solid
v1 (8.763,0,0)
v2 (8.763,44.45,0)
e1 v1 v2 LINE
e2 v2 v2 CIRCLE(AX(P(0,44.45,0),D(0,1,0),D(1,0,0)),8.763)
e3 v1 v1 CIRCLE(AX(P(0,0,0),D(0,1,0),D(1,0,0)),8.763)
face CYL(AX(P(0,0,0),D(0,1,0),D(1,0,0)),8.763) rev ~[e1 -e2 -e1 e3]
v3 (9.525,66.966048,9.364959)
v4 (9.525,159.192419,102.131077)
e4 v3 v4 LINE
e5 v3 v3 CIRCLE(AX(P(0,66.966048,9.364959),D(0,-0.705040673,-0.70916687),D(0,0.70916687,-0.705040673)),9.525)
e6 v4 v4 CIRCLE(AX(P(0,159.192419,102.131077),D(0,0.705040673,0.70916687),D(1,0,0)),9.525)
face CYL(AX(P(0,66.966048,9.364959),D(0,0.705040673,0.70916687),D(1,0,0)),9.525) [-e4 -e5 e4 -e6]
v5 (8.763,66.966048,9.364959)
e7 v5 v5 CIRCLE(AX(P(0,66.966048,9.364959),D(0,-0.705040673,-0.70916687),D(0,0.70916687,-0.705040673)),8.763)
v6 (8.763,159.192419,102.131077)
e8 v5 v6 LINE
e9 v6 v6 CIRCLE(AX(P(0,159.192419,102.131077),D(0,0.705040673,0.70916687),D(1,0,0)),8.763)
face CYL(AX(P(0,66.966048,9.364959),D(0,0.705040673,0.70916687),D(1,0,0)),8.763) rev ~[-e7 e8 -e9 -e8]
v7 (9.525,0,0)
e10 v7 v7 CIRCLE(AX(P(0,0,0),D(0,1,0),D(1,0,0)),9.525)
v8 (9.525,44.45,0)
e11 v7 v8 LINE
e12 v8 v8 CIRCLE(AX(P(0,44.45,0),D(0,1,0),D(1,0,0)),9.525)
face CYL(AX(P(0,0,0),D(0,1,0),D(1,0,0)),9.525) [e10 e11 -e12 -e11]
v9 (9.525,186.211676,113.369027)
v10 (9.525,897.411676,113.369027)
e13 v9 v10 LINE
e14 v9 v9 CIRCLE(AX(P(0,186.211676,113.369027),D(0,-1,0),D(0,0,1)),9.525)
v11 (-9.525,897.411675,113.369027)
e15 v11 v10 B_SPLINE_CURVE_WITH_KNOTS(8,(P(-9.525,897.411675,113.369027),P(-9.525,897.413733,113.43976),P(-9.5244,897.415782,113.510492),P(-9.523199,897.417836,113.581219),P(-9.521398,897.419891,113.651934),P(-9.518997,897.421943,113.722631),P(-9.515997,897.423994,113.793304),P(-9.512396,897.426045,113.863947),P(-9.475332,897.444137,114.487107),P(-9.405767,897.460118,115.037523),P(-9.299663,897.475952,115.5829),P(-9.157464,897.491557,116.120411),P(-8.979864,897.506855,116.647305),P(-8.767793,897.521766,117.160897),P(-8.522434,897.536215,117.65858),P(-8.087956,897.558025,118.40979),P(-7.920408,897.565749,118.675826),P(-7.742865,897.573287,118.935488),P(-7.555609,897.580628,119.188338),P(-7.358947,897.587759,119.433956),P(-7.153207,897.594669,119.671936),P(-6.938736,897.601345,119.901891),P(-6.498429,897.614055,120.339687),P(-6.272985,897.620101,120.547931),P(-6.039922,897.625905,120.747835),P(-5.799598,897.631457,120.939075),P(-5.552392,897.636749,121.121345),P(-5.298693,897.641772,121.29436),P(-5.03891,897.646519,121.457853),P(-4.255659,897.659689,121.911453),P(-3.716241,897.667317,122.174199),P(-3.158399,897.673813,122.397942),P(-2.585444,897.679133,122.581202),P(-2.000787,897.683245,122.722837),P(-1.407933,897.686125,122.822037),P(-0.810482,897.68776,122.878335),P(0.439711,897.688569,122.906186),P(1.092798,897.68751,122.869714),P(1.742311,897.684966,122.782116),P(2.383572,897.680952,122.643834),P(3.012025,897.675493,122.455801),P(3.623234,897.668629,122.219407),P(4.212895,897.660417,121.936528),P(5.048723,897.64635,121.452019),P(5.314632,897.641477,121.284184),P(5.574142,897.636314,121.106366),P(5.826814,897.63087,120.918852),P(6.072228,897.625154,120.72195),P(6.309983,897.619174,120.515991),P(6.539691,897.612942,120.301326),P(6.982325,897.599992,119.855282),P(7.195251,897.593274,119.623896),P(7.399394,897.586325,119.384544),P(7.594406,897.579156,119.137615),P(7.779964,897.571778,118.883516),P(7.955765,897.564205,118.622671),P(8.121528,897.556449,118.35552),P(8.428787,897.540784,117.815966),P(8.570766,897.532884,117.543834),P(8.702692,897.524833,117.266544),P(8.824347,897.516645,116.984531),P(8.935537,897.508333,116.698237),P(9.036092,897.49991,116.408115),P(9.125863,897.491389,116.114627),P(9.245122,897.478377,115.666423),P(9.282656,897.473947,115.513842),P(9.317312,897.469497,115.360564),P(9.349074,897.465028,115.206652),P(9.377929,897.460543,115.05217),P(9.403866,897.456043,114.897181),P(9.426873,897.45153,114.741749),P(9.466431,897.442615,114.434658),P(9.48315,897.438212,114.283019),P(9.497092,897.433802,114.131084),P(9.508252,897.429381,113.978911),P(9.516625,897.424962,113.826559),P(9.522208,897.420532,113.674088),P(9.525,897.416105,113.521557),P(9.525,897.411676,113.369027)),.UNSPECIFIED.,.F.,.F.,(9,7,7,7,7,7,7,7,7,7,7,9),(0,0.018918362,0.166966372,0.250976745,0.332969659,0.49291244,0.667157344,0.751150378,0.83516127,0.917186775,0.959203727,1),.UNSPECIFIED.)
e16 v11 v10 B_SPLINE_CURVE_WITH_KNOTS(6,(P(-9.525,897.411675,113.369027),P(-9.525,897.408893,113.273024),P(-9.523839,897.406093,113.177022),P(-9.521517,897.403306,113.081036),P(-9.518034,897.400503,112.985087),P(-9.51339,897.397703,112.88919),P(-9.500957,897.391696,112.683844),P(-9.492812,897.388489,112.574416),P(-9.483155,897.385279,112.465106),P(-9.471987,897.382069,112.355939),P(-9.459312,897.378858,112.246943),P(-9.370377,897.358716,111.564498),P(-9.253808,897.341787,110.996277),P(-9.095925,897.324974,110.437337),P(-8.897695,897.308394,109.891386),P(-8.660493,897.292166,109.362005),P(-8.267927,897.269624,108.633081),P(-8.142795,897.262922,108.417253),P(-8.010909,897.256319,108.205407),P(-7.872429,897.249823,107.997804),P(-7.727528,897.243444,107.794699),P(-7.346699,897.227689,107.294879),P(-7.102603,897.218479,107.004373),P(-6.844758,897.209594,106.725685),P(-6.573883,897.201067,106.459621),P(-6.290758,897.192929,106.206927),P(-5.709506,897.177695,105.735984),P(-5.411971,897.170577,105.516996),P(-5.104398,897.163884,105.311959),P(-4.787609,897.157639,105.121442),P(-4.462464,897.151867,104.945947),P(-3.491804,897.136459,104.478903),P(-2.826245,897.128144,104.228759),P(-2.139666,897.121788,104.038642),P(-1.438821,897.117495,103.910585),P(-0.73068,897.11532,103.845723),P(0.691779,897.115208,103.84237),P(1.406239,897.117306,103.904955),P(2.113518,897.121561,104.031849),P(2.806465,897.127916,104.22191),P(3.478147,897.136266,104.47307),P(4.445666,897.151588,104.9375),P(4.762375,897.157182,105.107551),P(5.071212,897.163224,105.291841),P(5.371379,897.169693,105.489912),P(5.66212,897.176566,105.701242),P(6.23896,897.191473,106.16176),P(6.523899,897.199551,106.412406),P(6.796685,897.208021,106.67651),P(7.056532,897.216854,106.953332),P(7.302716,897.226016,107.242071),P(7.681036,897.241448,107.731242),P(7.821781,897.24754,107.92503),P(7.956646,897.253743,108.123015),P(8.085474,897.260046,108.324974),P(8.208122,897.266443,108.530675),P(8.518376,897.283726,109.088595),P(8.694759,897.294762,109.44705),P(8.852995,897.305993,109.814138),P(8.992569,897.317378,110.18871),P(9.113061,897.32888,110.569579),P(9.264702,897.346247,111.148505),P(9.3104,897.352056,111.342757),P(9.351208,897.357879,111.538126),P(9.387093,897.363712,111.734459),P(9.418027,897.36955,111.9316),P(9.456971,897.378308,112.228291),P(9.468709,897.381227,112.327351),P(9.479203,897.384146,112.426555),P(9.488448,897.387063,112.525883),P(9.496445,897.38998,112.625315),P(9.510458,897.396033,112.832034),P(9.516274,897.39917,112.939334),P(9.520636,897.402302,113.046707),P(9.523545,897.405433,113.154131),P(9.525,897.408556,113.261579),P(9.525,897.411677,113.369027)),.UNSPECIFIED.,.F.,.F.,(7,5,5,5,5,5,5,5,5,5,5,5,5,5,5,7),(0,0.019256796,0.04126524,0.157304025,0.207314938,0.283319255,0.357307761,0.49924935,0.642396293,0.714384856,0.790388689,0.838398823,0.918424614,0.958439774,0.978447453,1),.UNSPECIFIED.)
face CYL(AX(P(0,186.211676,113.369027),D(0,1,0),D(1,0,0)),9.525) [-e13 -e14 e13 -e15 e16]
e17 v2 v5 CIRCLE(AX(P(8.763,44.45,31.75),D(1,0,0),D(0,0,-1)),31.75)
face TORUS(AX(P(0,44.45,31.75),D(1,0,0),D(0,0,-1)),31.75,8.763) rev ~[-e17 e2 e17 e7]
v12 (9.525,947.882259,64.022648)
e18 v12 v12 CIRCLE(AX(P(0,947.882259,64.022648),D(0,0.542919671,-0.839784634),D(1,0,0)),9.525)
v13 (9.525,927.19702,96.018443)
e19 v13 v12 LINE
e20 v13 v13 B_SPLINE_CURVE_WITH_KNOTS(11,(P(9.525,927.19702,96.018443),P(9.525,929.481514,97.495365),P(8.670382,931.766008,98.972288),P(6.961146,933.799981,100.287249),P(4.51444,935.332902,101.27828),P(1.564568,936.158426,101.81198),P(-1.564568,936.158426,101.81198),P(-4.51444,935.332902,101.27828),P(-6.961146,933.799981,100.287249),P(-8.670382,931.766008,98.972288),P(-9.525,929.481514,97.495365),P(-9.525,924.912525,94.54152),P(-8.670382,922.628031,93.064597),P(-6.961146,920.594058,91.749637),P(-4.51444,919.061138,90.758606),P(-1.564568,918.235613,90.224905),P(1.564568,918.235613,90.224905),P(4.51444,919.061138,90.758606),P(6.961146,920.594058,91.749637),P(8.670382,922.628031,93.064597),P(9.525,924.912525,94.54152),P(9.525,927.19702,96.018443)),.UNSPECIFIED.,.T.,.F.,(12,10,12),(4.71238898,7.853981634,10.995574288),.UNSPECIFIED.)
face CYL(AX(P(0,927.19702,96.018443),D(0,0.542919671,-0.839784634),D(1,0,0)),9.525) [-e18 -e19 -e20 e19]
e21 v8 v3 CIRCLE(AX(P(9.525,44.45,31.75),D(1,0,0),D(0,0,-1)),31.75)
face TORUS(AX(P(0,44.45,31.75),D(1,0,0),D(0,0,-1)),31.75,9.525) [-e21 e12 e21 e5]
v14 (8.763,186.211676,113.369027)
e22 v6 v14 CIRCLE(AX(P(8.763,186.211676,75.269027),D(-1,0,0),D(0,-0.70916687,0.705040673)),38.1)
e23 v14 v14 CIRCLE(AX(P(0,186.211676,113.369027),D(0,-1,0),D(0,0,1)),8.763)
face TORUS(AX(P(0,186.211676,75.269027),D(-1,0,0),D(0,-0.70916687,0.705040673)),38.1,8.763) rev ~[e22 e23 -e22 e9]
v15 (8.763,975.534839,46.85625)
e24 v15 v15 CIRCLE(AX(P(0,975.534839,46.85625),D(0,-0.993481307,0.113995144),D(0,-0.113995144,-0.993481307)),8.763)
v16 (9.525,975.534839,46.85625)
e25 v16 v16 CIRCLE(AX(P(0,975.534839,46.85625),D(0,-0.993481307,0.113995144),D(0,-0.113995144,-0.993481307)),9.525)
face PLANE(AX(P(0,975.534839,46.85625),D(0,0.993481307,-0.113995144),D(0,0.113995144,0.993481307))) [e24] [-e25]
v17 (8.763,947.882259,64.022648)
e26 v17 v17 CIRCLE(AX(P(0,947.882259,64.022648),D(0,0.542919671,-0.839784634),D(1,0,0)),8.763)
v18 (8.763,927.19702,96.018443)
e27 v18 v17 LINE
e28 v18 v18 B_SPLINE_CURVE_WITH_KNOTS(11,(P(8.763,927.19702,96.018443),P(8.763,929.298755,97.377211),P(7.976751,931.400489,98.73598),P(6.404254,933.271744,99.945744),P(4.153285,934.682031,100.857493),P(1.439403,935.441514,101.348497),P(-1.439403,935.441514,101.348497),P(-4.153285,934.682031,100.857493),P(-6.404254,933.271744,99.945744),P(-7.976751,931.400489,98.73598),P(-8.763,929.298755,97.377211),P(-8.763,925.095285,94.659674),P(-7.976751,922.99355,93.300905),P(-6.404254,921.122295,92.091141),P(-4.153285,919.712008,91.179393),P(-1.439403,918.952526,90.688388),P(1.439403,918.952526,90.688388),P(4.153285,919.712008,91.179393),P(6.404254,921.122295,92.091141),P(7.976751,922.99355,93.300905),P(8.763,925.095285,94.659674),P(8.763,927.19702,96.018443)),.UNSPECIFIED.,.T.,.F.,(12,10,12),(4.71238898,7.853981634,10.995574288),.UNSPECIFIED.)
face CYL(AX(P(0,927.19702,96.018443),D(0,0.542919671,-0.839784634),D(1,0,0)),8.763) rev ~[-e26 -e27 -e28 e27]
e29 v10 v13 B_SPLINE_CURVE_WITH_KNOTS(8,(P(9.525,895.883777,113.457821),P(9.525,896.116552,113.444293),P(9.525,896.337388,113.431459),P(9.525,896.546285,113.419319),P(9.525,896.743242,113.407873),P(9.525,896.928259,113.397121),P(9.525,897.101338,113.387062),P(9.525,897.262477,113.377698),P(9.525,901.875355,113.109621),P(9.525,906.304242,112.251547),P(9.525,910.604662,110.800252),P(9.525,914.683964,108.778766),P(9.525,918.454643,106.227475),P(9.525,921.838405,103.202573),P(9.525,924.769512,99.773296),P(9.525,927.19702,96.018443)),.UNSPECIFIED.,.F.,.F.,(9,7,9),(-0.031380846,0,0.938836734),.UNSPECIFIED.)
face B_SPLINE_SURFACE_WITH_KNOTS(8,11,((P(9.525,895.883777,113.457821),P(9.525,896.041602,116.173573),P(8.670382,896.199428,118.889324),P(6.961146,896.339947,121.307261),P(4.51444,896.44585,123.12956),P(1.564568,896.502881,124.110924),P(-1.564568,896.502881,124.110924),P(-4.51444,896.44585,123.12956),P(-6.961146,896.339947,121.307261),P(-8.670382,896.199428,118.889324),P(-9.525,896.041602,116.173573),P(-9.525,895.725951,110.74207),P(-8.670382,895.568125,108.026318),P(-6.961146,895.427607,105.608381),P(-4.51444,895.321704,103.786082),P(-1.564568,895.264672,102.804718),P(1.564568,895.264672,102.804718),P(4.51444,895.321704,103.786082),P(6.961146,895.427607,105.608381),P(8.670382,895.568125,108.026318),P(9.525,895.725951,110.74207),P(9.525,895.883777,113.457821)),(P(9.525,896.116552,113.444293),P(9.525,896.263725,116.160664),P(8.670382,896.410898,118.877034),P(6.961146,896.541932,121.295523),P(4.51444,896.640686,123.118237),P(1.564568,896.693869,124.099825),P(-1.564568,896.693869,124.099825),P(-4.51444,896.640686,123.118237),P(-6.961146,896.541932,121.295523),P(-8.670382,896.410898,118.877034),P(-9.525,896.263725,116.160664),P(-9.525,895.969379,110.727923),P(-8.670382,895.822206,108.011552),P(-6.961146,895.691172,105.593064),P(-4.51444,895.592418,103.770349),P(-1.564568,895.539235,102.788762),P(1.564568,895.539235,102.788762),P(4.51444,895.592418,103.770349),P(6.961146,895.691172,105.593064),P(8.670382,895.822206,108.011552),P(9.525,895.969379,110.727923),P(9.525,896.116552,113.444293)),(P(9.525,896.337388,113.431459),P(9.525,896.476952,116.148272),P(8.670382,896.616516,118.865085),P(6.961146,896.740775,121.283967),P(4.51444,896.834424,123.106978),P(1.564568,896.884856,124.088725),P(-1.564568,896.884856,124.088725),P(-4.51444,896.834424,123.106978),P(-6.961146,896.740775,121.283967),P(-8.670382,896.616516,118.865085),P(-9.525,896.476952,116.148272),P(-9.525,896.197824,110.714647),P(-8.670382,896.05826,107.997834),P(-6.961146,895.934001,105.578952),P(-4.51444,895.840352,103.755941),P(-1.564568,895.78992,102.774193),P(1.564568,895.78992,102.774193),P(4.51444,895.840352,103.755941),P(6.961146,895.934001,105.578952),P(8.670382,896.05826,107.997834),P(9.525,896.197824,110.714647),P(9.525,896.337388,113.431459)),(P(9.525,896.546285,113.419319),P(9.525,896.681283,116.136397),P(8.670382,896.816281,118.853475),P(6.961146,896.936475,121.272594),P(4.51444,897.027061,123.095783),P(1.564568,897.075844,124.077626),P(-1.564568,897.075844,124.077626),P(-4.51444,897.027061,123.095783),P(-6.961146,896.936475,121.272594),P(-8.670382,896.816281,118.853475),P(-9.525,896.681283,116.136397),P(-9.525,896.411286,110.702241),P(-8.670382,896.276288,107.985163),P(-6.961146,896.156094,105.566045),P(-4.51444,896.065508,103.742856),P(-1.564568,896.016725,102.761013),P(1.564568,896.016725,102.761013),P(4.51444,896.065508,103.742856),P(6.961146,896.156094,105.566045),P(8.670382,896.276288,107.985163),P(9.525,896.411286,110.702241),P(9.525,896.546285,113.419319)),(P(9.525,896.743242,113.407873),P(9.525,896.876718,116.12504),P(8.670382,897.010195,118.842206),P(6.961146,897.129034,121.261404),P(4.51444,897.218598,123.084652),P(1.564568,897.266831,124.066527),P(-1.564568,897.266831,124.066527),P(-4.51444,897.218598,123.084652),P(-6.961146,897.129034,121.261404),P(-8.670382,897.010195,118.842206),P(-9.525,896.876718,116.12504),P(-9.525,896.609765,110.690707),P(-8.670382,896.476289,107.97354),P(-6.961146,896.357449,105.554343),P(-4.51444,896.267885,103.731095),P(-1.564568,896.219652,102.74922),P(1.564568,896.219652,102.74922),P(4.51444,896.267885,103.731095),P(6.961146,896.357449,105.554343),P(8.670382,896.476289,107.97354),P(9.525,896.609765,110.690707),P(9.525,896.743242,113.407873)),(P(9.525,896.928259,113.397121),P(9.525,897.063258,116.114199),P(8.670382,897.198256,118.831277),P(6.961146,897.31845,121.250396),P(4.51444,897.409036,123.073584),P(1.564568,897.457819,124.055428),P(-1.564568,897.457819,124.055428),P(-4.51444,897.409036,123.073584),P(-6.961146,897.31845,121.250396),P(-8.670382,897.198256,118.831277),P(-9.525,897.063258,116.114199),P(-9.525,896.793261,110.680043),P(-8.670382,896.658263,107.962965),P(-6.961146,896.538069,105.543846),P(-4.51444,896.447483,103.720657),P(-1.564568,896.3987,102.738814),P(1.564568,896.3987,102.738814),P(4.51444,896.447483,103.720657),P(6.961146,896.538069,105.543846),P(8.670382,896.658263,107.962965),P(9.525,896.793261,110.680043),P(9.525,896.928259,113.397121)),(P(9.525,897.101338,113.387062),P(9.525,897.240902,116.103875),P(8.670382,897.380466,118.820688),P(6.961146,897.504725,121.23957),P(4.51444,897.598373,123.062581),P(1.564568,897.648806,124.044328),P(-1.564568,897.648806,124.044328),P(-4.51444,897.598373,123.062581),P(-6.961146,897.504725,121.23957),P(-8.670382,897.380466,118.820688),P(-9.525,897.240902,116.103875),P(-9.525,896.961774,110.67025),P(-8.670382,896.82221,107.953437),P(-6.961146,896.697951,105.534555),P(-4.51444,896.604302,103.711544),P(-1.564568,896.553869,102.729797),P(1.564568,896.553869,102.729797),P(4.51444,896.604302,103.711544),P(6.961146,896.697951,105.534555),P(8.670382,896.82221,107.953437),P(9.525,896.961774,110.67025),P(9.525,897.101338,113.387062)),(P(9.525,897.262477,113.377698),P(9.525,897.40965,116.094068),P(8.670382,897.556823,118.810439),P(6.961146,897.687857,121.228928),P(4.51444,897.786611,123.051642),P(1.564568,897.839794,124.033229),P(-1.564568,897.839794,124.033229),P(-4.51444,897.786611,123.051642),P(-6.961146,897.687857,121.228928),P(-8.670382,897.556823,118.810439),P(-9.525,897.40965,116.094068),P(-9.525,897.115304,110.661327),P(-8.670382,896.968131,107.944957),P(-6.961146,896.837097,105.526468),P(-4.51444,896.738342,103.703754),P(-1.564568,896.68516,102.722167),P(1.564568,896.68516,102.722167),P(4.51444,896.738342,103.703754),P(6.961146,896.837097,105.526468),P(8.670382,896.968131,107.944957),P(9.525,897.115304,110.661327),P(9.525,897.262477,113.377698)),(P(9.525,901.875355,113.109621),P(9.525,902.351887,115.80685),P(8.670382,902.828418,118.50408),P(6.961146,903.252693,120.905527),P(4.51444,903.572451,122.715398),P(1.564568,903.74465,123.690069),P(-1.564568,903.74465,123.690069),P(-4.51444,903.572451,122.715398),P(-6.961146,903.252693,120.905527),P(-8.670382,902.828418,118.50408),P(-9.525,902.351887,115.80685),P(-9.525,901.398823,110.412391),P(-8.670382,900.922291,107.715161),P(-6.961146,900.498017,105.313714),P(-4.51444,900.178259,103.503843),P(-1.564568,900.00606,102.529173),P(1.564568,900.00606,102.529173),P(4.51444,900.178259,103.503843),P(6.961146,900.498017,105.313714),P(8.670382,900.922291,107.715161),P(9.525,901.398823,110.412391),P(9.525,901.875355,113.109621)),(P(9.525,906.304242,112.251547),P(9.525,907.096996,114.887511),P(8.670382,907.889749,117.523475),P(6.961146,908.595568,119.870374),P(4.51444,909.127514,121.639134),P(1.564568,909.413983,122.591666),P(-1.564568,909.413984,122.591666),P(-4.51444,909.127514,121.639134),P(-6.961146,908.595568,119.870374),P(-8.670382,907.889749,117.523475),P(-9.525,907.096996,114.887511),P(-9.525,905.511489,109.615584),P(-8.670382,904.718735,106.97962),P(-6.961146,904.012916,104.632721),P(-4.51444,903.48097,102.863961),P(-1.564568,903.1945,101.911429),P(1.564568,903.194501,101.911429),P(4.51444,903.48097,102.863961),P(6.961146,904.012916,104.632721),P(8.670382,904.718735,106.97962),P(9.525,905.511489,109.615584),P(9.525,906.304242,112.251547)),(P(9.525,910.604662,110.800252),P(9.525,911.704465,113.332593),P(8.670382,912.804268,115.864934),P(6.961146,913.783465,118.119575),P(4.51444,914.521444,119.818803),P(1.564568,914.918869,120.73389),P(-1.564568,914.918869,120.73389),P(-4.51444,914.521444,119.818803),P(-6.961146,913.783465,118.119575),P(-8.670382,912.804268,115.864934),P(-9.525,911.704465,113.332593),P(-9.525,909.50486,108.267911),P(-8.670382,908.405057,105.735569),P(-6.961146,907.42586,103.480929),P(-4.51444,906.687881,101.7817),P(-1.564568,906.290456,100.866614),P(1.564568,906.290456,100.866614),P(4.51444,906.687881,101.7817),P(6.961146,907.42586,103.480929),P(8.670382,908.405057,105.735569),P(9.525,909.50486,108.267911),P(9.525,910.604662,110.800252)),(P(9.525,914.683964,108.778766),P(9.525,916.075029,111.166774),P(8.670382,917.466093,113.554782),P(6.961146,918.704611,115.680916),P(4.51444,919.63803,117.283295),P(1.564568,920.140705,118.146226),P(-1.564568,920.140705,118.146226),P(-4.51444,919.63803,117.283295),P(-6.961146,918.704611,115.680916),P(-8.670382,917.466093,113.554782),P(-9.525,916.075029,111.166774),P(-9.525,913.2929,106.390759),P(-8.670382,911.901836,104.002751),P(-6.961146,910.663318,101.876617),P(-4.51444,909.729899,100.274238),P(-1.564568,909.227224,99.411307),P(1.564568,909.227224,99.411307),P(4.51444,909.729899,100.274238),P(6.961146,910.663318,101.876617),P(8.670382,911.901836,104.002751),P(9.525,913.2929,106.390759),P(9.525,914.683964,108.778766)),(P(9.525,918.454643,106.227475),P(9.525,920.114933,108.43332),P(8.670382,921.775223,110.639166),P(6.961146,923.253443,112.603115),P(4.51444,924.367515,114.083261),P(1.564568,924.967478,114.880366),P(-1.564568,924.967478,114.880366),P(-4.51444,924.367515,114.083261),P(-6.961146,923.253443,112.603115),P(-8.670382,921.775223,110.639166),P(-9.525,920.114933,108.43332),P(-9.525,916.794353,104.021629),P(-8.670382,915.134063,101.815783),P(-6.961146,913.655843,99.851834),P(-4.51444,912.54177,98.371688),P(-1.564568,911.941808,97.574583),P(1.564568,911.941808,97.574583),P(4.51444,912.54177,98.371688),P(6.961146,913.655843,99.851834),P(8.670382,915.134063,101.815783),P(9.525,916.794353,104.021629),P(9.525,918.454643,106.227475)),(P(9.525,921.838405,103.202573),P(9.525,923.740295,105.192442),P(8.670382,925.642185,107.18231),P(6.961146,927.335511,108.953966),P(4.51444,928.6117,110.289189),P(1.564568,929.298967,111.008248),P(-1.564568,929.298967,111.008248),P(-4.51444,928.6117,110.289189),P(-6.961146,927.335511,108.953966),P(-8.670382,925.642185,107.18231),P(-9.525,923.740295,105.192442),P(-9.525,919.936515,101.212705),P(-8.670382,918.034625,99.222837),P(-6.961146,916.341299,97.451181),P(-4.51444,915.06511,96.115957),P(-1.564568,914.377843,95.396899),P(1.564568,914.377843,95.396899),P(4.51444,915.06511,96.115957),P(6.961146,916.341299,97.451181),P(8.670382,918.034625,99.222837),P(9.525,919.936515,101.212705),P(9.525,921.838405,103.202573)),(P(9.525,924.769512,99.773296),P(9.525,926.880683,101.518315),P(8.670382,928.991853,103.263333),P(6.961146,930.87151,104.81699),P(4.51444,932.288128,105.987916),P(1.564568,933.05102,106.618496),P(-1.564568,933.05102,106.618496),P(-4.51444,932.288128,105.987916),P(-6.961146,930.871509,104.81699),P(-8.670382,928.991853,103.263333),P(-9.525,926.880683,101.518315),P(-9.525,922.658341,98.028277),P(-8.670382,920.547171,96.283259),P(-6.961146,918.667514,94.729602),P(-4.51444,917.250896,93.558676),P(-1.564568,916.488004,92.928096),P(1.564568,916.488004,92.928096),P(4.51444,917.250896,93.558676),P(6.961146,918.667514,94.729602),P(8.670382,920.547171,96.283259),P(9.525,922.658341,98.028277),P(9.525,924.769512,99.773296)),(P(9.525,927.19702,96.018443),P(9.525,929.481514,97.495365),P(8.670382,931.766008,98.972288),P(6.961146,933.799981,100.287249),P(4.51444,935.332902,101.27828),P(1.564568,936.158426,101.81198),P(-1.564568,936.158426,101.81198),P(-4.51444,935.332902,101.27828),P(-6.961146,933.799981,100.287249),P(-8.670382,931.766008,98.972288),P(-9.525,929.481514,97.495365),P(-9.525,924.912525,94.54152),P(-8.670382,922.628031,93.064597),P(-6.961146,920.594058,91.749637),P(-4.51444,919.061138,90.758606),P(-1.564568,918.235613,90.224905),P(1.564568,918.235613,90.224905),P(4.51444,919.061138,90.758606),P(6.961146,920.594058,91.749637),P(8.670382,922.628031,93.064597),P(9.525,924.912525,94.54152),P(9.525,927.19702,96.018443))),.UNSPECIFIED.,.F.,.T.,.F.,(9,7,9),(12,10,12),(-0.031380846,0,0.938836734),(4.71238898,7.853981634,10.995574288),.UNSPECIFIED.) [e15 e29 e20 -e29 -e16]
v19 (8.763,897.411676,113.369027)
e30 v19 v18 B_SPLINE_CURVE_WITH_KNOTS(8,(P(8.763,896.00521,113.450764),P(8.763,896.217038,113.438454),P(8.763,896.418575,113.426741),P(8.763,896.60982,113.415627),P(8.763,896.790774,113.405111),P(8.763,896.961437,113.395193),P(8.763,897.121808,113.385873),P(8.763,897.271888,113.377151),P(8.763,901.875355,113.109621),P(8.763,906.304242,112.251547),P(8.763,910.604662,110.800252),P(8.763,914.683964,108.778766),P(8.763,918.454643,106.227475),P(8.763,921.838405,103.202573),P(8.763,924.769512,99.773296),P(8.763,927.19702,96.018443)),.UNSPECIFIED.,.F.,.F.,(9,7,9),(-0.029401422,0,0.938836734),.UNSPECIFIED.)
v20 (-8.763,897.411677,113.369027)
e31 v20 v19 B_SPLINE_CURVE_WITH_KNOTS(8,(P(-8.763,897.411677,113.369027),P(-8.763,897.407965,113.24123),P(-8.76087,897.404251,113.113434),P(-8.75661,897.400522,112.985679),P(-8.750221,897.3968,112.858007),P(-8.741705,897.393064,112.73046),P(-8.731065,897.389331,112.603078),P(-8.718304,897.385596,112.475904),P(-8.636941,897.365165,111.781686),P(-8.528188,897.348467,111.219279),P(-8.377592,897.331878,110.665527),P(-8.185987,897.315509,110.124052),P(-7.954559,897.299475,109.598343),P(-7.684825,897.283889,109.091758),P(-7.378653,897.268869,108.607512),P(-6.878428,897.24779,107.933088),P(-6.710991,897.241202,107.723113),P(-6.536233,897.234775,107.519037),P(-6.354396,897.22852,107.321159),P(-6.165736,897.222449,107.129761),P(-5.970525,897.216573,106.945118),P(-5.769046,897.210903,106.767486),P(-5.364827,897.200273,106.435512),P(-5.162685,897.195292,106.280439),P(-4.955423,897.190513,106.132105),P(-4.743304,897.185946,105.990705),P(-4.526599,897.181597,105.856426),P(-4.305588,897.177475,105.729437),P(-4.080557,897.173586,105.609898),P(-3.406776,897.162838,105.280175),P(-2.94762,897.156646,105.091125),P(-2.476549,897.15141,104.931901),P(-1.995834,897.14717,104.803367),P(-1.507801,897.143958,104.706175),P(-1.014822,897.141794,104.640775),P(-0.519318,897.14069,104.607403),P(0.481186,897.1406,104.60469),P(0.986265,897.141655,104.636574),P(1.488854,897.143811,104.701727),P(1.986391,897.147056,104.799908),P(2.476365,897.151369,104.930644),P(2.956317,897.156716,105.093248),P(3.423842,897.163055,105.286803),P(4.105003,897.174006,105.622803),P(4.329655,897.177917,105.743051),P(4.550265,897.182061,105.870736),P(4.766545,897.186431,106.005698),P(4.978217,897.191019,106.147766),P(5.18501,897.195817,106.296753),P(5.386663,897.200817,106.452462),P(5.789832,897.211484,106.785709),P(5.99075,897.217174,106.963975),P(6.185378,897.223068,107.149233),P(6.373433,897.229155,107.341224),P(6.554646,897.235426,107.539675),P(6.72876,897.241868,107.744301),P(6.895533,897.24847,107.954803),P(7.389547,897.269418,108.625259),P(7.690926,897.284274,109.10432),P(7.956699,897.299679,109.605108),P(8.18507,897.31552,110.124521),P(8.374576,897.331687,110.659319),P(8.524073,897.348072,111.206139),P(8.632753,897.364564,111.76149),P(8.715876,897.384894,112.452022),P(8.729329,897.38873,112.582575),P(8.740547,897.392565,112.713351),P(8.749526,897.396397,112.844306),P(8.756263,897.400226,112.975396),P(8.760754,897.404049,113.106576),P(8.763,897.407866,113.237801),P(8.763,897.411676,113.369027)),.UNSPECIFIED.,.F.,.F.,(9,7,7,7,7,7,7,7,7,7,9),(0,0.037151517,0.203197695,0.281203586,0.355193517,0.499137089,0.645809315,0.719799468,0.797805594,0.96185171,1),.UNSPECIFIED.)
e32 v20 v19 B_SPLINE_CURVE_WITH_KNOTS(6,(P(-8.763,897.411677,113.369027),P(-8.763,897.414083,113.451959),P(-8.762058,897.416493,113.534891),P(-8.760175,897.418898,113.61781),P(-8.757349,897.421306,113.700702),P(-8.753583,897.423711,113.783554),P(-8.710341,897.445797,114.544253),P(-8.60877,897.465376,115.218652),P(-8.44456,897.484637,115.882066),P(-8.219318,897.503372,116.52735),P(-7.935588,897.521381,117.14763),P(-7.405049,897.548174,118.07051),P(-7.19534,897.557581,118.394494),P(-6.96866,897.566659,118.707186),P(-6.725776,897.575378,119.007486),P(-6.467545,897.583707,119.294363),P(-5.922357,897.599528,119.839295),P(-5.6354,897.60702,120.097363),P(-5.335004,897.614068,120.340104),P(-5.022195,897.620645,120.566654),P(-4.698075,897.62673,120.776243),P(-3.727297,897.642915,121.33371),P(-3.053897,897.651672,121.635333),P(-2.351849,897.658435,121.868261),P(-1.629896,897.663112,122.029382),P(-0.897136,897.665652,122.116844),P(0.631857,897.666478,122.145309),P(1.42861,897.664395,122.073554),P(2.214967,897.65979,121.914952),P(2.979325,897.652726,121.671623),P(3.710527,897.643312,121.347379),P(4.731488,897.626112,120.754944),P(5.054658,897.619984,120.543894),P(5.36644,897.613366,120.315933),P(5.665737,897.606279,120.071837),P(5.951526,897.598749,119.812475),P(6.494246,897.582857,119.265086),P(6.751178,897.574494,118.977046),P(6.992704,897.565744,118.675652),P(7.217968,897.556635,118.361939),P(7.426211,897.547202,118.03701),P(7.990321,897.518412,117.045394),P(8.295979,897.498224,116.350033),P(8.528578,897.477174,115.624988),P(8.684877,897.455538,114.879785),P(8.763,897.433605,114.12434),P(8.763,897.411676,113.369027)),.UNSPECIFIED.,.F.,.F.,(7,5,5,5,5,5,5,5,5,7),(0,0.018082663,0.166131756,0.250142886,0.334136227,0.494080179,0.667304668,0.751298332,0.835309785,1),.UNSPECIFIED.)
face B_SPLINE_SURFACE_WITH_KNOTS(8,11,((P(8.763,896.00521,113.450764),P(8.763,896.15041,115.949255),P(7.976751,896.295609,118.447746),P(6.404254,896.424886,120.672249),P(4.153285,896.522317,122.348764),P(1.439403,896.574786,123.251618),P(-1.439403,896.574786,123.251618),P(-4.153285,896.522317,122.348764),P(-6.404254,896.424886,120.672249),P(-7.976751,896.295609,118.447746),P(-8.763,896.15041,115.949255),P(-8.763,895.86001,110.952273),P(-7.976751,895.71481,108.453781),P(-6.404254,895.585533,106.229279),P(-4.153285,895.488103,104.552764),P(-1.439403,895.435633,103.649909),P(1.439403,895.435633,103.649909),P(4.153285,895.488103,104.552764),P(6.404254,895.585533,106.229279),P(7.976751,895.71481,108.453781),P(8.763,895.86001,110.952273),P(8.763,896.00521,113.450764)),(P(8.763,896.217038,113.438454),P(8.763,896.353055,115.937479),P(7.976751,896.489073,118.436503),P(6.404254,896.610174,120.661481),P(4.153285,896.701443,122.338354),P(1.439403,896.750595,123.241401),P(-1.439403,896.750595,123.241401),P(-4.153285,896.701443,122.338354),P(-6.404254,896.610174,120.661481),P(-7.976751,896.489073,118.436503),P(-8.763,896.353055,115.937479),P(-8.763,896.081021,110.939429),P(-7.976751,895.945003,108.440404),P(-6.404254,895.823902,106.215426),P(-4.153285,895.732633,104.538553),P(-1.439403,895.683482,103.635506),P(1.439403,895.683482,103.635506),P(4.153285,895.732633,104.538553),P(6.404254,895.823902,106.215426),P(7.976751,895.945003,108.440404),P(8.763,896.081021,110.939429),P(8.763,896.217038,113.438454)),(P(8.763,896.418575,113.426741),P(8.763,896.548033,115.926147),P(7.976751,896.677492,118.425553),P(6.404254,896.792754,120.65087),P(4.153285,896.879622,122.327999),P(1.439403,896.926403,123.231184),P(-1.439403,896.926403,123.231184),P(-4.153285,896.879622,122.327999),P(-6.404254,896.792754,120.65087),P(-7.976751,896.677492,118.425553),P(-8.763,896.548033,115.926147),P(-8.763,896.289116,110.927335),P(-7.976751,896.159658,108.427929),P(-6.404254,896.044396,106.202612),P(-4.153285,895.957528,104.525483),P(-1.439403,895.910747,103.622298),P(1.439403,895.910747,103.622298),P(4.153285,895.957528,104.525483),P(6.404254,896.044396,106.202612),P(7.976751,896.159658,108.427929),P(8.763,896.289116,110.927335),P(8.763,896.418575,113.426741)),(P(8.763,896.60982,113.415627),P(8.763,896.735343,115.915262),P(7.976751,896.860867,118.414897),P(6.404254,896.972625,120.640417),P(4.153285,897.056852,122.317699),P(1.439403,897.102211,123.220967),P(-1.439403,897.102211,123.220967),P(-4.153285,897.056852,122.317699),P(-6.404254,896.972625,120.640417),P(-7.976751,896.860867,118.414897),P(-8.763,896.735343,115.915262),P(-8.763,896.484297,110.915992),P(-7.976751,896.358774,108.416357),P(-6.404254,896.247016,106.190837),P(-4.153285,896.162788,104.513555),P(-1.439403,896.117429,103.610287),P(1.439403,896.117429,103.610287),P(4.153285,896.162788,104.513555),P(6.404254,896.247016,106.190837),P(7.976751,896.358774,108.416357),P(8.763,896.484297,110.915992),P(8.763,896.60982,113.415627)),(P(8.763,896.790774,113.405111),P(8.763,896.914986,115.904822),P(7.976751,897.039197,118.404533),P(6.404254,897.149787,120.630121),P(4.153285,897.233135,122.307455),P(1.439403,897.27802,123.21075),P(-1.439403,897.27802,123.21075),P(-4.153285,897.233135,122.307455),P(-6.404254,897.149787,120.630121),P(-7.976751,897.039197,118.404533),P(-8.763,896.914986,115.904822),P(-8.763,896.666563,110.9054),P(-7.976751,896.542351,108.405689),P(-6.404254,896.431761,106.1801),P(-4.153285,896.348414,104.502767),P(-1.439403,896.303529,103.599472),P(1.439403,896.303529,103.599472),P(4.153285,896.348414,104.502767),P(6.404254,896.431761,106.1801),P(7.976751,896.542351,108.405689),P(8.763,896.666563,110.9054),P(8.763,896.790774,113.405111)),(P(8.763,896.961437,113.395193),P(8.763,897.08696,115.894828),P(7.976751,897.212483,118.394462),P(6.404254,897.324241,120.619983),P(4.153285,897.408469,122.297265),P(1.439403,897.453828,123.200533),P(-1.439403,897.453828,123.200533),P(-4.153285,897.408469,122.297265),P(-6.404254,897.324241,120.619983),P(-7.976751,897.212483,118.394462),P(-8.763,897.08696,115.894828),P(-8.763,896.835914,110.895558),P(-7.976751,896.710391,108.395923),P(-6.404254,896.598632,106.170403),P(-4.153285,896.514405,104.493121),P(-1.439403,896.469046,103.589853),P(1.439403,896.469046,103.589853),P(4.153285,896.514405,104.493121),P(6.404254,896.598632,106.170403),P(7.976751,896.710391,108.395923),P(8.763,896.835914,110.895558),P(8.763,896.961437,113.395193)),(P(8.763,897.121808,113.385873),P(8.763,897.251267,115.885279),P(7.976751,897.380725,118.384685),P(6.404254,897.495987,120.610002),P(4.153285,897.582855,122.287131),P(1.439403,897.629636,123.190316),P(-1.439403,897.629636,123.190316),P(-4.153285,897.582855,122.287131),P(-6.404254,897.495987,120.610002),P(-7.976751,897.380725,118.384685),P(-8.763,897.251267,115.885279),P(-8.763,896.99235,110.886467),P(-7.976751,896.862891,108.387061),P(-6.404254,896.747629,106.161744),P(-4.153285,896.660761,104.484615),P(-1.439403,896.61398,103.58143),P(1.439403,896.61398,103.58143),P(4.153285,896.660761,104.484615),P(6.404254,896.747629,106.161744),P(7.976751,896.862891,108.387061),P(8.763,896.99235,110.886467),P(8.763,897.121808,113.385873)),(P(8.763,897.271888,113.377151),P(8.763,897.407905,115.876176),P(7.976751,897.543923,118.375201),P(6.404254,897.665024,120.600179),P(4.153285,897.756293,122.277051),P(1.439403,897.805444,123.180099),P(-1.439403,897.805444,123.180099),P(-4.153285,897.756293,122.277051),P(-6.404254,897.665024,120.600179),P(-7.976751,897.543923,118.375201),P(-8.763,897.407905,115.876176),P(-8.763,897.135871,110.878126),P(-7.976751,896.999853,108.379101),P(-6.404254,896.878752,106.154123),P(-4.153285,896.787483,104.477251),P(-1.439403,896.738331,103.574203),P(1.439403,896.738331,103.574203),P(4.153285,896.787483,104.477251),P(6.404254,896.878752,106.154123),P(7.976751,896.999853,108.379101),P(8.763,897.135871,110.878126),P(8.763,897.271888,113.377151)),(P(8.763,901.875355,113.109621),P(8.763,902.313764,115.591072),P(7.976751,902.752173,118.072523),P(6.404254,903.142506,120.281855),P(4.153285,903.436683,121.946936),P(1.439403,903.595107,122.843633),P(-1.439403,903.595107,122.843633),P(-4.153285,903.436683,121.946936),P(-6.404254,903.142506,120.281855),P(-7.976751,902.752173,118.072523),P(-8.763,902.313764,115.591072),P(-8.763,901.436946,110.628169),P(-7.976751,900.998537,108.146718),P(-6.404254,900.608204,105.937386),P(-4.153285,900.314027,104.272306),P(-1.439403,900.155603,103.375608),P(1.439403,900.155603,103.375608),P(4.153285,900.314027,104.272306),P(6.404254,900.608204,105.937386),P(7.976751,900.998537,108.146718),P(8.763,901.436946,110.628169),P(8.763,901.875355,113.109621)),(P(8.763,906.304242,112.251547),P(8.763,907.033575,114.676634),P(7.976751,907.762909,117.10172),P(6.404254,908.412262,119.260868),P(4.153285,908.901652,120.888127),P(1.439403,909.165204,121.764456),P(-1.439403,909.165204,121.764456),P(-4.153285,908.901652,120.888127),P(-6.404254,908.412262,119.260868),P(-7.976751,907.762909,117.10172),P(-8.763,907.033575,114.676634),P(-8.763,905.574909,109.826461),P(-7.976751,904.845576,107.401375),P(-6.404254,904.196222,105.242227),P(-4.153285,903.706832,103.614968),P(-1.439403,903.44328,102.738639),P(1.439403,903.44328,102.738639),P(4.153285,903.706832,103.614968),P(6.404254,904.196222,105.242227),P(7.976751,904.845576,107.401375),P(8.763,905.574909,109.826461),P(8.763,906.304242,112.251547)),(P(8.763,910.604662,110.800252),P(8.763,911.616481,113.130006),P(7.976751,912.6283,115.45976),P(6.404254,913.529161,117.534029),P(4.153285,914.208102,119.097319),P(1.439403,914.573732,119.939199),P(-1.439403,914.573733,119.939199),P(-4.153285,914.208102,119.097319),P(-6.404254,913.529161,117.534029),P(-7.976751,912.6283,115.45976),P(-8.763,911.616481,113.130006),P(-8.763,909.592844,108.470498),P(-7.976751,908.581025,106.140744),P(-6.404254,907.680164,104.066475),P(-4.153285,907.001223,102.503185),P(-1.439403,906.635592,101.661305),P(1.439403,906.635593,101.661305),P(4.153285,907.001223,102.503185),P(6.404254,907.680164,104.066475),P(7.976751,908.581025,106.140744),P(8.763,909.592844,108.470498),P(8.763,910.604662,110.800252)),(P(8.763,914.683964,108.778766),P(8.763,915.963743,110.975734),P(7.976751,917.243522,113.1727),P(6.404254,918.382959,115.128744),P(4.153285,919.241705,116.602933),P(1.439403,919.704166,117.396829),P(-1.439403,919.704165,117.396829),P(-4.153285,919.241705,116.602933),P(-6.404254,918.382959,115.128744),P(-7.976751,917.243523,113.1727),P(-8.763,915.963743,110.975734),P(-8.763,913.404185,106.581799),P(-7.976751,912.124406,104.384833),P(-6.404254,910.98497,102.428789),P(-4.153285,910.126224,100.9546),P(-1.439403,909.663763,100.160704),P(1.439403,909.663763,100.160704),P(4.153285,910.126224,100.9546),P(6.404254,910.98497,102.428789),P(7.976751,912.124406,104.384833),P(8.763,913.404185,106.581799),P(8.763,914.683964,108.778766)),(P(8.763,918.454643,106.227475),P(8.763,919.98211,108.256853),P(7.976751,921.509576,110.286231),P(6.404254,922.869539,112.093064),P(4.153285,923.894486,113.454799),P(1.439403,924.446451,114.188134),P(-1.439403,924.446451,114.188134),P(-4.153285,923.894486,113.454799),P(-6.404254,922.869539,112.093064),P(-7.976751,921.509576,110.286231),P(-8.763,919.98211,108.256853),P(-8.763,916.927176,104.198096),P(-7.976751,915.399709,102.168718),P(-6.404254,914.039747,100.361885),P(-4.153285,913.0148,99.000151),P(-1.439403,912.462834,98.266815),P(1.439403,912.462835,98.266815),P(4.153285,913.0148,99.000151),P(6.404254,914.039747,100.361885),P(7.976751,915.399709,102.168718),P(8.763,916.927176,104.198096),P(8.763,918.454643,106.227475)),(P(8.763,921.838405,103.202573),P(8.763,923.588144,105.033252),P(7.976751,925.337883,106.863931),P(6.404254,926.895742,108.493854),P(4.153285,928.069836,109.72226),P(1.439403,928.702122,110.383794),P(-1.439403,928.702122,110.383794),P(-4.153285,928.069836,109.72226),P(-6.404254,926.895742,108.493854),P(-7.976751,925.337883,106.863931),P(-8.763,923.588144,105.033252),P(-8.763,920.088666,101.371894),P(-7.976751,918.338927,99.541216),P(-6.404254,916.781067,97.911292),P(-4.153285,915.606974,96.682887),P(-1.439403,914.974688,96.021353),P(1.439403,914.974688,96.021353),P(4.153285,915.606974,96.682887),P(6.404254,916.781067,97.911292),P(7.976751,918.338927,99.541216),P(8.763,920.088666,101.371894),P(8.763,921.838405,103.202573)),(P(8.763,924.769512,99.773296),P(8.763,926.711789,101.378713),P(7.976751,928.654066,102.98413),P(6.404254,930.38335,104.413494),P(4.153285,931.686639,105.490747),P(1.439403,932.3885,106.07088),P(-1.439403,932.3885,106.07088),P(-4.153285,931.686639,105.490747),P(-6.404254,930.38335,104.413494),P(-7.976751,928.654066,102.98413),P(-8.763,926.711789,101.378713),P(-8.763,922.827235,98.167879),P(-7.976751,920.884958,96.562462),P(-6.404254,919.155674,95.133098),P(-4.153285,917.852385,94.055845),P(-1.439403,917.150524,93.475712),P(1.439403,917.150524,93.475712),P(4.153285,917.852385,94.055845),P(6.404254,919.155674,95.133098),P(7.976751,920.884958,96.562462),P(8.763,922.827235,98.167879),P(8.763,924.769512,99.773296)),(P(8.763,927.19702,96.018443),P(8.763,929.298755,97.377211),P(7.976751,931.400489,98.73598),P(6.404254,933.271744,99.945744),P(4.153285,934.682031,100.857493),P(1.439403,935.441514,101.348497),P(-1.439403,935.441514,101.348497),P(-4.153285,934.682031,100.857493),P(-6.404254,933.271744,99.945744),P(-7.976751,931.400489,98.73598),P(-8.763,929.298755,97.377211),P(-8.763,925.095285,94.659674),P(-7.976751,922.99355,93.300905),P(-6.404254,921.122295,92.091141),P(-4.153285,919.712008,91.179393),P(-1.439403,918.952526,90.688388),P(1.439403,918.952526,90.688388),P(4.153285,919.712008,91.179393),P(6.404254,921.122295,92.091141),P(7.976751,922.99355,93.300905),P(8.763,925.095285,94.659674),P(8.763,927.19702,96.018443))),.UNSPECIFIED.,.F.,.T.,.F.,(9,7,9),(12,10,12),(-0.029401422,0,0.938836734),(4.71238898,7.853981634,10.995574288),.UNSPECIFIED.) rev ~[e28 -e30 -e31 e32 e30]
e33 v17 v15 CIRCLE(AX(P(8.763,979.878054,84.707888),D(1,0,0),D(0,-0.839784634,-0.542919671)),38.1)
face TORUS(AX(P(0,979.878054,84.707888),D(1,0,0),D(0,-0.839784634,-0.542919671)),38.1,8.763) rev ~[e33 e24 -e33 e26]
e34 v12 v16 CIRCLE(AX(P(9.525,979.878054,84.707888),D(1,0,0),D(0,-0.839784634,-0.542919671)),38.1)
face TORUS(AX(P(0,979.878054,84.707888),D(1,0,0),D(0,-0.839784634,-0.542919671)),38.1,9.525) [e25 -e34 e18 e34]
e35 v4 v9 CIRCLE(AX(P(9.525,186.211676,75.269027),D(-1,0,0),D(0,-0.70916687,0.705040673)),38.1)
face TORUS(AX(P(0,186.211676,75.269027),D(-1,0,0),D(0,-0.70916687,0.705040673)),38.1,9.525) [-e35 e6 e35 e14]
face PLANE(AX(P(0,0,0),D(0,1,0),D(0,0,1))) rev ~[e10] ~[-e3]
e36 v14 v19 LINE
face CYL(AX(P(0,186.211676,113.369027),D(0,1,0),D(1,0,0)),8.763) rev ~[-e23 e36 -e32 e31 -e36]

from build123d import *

# Parameters (mm, degrees)
SKETCH1_R   = 9.525
SKETCH1_R_2 = 8.763


with BuildPart() as part:
    # Sweep1: sweep along a path in Sketch4
    with BuildLine(Plane(origin=(0, 0, 0), x_dir=(0, 0, -1), z_dir=(1, 0, 0))) as sweep1_path:
        Line((0, 0), (0, 44.45))
        ThreePointArc((0, 44.45), (-2.434581157, 56.642978228), (-9.364958619, 66.966048107))
        Line((-9.364958619, 66.966048107), (-102.131076821, 159.192418597))
        ThreePointArc((-102.131076821, 159.192418597), (-110.447529775, 171.580102452), (-113.369027163, 186.211676326))
        Line((-113.369027163, 186.211676326), (-113.369027163, 897.411676326))
        ThreePointArc((-113.369027163, 897.411676326), (-108.254814534, 914.37875131), (-96.018442631, 927.197019796))
        Line((-96.018442631, 927.197019796), (-64.022648081, 947.882259246))
        ThreePointArc((-64.022648081, 947.882259246), (-52.338028271, 959.78322333), (-46.856249738, 975.534838814))
    # Sketch1 → Sweep1 (sweep)
    with BuildSketch(Plane(origin=(0, 0, 0), x_dir=(1, 0, 0), z_dir=(0, 1, 0))):
        Circle(SKETCH1_R)
        Circle(SKETCH1_R_2, mode=Mode.SUBTRACT)
    sweep(path=sweep1_path.line, transition=Transition.RIGHT)


solid = part.part
